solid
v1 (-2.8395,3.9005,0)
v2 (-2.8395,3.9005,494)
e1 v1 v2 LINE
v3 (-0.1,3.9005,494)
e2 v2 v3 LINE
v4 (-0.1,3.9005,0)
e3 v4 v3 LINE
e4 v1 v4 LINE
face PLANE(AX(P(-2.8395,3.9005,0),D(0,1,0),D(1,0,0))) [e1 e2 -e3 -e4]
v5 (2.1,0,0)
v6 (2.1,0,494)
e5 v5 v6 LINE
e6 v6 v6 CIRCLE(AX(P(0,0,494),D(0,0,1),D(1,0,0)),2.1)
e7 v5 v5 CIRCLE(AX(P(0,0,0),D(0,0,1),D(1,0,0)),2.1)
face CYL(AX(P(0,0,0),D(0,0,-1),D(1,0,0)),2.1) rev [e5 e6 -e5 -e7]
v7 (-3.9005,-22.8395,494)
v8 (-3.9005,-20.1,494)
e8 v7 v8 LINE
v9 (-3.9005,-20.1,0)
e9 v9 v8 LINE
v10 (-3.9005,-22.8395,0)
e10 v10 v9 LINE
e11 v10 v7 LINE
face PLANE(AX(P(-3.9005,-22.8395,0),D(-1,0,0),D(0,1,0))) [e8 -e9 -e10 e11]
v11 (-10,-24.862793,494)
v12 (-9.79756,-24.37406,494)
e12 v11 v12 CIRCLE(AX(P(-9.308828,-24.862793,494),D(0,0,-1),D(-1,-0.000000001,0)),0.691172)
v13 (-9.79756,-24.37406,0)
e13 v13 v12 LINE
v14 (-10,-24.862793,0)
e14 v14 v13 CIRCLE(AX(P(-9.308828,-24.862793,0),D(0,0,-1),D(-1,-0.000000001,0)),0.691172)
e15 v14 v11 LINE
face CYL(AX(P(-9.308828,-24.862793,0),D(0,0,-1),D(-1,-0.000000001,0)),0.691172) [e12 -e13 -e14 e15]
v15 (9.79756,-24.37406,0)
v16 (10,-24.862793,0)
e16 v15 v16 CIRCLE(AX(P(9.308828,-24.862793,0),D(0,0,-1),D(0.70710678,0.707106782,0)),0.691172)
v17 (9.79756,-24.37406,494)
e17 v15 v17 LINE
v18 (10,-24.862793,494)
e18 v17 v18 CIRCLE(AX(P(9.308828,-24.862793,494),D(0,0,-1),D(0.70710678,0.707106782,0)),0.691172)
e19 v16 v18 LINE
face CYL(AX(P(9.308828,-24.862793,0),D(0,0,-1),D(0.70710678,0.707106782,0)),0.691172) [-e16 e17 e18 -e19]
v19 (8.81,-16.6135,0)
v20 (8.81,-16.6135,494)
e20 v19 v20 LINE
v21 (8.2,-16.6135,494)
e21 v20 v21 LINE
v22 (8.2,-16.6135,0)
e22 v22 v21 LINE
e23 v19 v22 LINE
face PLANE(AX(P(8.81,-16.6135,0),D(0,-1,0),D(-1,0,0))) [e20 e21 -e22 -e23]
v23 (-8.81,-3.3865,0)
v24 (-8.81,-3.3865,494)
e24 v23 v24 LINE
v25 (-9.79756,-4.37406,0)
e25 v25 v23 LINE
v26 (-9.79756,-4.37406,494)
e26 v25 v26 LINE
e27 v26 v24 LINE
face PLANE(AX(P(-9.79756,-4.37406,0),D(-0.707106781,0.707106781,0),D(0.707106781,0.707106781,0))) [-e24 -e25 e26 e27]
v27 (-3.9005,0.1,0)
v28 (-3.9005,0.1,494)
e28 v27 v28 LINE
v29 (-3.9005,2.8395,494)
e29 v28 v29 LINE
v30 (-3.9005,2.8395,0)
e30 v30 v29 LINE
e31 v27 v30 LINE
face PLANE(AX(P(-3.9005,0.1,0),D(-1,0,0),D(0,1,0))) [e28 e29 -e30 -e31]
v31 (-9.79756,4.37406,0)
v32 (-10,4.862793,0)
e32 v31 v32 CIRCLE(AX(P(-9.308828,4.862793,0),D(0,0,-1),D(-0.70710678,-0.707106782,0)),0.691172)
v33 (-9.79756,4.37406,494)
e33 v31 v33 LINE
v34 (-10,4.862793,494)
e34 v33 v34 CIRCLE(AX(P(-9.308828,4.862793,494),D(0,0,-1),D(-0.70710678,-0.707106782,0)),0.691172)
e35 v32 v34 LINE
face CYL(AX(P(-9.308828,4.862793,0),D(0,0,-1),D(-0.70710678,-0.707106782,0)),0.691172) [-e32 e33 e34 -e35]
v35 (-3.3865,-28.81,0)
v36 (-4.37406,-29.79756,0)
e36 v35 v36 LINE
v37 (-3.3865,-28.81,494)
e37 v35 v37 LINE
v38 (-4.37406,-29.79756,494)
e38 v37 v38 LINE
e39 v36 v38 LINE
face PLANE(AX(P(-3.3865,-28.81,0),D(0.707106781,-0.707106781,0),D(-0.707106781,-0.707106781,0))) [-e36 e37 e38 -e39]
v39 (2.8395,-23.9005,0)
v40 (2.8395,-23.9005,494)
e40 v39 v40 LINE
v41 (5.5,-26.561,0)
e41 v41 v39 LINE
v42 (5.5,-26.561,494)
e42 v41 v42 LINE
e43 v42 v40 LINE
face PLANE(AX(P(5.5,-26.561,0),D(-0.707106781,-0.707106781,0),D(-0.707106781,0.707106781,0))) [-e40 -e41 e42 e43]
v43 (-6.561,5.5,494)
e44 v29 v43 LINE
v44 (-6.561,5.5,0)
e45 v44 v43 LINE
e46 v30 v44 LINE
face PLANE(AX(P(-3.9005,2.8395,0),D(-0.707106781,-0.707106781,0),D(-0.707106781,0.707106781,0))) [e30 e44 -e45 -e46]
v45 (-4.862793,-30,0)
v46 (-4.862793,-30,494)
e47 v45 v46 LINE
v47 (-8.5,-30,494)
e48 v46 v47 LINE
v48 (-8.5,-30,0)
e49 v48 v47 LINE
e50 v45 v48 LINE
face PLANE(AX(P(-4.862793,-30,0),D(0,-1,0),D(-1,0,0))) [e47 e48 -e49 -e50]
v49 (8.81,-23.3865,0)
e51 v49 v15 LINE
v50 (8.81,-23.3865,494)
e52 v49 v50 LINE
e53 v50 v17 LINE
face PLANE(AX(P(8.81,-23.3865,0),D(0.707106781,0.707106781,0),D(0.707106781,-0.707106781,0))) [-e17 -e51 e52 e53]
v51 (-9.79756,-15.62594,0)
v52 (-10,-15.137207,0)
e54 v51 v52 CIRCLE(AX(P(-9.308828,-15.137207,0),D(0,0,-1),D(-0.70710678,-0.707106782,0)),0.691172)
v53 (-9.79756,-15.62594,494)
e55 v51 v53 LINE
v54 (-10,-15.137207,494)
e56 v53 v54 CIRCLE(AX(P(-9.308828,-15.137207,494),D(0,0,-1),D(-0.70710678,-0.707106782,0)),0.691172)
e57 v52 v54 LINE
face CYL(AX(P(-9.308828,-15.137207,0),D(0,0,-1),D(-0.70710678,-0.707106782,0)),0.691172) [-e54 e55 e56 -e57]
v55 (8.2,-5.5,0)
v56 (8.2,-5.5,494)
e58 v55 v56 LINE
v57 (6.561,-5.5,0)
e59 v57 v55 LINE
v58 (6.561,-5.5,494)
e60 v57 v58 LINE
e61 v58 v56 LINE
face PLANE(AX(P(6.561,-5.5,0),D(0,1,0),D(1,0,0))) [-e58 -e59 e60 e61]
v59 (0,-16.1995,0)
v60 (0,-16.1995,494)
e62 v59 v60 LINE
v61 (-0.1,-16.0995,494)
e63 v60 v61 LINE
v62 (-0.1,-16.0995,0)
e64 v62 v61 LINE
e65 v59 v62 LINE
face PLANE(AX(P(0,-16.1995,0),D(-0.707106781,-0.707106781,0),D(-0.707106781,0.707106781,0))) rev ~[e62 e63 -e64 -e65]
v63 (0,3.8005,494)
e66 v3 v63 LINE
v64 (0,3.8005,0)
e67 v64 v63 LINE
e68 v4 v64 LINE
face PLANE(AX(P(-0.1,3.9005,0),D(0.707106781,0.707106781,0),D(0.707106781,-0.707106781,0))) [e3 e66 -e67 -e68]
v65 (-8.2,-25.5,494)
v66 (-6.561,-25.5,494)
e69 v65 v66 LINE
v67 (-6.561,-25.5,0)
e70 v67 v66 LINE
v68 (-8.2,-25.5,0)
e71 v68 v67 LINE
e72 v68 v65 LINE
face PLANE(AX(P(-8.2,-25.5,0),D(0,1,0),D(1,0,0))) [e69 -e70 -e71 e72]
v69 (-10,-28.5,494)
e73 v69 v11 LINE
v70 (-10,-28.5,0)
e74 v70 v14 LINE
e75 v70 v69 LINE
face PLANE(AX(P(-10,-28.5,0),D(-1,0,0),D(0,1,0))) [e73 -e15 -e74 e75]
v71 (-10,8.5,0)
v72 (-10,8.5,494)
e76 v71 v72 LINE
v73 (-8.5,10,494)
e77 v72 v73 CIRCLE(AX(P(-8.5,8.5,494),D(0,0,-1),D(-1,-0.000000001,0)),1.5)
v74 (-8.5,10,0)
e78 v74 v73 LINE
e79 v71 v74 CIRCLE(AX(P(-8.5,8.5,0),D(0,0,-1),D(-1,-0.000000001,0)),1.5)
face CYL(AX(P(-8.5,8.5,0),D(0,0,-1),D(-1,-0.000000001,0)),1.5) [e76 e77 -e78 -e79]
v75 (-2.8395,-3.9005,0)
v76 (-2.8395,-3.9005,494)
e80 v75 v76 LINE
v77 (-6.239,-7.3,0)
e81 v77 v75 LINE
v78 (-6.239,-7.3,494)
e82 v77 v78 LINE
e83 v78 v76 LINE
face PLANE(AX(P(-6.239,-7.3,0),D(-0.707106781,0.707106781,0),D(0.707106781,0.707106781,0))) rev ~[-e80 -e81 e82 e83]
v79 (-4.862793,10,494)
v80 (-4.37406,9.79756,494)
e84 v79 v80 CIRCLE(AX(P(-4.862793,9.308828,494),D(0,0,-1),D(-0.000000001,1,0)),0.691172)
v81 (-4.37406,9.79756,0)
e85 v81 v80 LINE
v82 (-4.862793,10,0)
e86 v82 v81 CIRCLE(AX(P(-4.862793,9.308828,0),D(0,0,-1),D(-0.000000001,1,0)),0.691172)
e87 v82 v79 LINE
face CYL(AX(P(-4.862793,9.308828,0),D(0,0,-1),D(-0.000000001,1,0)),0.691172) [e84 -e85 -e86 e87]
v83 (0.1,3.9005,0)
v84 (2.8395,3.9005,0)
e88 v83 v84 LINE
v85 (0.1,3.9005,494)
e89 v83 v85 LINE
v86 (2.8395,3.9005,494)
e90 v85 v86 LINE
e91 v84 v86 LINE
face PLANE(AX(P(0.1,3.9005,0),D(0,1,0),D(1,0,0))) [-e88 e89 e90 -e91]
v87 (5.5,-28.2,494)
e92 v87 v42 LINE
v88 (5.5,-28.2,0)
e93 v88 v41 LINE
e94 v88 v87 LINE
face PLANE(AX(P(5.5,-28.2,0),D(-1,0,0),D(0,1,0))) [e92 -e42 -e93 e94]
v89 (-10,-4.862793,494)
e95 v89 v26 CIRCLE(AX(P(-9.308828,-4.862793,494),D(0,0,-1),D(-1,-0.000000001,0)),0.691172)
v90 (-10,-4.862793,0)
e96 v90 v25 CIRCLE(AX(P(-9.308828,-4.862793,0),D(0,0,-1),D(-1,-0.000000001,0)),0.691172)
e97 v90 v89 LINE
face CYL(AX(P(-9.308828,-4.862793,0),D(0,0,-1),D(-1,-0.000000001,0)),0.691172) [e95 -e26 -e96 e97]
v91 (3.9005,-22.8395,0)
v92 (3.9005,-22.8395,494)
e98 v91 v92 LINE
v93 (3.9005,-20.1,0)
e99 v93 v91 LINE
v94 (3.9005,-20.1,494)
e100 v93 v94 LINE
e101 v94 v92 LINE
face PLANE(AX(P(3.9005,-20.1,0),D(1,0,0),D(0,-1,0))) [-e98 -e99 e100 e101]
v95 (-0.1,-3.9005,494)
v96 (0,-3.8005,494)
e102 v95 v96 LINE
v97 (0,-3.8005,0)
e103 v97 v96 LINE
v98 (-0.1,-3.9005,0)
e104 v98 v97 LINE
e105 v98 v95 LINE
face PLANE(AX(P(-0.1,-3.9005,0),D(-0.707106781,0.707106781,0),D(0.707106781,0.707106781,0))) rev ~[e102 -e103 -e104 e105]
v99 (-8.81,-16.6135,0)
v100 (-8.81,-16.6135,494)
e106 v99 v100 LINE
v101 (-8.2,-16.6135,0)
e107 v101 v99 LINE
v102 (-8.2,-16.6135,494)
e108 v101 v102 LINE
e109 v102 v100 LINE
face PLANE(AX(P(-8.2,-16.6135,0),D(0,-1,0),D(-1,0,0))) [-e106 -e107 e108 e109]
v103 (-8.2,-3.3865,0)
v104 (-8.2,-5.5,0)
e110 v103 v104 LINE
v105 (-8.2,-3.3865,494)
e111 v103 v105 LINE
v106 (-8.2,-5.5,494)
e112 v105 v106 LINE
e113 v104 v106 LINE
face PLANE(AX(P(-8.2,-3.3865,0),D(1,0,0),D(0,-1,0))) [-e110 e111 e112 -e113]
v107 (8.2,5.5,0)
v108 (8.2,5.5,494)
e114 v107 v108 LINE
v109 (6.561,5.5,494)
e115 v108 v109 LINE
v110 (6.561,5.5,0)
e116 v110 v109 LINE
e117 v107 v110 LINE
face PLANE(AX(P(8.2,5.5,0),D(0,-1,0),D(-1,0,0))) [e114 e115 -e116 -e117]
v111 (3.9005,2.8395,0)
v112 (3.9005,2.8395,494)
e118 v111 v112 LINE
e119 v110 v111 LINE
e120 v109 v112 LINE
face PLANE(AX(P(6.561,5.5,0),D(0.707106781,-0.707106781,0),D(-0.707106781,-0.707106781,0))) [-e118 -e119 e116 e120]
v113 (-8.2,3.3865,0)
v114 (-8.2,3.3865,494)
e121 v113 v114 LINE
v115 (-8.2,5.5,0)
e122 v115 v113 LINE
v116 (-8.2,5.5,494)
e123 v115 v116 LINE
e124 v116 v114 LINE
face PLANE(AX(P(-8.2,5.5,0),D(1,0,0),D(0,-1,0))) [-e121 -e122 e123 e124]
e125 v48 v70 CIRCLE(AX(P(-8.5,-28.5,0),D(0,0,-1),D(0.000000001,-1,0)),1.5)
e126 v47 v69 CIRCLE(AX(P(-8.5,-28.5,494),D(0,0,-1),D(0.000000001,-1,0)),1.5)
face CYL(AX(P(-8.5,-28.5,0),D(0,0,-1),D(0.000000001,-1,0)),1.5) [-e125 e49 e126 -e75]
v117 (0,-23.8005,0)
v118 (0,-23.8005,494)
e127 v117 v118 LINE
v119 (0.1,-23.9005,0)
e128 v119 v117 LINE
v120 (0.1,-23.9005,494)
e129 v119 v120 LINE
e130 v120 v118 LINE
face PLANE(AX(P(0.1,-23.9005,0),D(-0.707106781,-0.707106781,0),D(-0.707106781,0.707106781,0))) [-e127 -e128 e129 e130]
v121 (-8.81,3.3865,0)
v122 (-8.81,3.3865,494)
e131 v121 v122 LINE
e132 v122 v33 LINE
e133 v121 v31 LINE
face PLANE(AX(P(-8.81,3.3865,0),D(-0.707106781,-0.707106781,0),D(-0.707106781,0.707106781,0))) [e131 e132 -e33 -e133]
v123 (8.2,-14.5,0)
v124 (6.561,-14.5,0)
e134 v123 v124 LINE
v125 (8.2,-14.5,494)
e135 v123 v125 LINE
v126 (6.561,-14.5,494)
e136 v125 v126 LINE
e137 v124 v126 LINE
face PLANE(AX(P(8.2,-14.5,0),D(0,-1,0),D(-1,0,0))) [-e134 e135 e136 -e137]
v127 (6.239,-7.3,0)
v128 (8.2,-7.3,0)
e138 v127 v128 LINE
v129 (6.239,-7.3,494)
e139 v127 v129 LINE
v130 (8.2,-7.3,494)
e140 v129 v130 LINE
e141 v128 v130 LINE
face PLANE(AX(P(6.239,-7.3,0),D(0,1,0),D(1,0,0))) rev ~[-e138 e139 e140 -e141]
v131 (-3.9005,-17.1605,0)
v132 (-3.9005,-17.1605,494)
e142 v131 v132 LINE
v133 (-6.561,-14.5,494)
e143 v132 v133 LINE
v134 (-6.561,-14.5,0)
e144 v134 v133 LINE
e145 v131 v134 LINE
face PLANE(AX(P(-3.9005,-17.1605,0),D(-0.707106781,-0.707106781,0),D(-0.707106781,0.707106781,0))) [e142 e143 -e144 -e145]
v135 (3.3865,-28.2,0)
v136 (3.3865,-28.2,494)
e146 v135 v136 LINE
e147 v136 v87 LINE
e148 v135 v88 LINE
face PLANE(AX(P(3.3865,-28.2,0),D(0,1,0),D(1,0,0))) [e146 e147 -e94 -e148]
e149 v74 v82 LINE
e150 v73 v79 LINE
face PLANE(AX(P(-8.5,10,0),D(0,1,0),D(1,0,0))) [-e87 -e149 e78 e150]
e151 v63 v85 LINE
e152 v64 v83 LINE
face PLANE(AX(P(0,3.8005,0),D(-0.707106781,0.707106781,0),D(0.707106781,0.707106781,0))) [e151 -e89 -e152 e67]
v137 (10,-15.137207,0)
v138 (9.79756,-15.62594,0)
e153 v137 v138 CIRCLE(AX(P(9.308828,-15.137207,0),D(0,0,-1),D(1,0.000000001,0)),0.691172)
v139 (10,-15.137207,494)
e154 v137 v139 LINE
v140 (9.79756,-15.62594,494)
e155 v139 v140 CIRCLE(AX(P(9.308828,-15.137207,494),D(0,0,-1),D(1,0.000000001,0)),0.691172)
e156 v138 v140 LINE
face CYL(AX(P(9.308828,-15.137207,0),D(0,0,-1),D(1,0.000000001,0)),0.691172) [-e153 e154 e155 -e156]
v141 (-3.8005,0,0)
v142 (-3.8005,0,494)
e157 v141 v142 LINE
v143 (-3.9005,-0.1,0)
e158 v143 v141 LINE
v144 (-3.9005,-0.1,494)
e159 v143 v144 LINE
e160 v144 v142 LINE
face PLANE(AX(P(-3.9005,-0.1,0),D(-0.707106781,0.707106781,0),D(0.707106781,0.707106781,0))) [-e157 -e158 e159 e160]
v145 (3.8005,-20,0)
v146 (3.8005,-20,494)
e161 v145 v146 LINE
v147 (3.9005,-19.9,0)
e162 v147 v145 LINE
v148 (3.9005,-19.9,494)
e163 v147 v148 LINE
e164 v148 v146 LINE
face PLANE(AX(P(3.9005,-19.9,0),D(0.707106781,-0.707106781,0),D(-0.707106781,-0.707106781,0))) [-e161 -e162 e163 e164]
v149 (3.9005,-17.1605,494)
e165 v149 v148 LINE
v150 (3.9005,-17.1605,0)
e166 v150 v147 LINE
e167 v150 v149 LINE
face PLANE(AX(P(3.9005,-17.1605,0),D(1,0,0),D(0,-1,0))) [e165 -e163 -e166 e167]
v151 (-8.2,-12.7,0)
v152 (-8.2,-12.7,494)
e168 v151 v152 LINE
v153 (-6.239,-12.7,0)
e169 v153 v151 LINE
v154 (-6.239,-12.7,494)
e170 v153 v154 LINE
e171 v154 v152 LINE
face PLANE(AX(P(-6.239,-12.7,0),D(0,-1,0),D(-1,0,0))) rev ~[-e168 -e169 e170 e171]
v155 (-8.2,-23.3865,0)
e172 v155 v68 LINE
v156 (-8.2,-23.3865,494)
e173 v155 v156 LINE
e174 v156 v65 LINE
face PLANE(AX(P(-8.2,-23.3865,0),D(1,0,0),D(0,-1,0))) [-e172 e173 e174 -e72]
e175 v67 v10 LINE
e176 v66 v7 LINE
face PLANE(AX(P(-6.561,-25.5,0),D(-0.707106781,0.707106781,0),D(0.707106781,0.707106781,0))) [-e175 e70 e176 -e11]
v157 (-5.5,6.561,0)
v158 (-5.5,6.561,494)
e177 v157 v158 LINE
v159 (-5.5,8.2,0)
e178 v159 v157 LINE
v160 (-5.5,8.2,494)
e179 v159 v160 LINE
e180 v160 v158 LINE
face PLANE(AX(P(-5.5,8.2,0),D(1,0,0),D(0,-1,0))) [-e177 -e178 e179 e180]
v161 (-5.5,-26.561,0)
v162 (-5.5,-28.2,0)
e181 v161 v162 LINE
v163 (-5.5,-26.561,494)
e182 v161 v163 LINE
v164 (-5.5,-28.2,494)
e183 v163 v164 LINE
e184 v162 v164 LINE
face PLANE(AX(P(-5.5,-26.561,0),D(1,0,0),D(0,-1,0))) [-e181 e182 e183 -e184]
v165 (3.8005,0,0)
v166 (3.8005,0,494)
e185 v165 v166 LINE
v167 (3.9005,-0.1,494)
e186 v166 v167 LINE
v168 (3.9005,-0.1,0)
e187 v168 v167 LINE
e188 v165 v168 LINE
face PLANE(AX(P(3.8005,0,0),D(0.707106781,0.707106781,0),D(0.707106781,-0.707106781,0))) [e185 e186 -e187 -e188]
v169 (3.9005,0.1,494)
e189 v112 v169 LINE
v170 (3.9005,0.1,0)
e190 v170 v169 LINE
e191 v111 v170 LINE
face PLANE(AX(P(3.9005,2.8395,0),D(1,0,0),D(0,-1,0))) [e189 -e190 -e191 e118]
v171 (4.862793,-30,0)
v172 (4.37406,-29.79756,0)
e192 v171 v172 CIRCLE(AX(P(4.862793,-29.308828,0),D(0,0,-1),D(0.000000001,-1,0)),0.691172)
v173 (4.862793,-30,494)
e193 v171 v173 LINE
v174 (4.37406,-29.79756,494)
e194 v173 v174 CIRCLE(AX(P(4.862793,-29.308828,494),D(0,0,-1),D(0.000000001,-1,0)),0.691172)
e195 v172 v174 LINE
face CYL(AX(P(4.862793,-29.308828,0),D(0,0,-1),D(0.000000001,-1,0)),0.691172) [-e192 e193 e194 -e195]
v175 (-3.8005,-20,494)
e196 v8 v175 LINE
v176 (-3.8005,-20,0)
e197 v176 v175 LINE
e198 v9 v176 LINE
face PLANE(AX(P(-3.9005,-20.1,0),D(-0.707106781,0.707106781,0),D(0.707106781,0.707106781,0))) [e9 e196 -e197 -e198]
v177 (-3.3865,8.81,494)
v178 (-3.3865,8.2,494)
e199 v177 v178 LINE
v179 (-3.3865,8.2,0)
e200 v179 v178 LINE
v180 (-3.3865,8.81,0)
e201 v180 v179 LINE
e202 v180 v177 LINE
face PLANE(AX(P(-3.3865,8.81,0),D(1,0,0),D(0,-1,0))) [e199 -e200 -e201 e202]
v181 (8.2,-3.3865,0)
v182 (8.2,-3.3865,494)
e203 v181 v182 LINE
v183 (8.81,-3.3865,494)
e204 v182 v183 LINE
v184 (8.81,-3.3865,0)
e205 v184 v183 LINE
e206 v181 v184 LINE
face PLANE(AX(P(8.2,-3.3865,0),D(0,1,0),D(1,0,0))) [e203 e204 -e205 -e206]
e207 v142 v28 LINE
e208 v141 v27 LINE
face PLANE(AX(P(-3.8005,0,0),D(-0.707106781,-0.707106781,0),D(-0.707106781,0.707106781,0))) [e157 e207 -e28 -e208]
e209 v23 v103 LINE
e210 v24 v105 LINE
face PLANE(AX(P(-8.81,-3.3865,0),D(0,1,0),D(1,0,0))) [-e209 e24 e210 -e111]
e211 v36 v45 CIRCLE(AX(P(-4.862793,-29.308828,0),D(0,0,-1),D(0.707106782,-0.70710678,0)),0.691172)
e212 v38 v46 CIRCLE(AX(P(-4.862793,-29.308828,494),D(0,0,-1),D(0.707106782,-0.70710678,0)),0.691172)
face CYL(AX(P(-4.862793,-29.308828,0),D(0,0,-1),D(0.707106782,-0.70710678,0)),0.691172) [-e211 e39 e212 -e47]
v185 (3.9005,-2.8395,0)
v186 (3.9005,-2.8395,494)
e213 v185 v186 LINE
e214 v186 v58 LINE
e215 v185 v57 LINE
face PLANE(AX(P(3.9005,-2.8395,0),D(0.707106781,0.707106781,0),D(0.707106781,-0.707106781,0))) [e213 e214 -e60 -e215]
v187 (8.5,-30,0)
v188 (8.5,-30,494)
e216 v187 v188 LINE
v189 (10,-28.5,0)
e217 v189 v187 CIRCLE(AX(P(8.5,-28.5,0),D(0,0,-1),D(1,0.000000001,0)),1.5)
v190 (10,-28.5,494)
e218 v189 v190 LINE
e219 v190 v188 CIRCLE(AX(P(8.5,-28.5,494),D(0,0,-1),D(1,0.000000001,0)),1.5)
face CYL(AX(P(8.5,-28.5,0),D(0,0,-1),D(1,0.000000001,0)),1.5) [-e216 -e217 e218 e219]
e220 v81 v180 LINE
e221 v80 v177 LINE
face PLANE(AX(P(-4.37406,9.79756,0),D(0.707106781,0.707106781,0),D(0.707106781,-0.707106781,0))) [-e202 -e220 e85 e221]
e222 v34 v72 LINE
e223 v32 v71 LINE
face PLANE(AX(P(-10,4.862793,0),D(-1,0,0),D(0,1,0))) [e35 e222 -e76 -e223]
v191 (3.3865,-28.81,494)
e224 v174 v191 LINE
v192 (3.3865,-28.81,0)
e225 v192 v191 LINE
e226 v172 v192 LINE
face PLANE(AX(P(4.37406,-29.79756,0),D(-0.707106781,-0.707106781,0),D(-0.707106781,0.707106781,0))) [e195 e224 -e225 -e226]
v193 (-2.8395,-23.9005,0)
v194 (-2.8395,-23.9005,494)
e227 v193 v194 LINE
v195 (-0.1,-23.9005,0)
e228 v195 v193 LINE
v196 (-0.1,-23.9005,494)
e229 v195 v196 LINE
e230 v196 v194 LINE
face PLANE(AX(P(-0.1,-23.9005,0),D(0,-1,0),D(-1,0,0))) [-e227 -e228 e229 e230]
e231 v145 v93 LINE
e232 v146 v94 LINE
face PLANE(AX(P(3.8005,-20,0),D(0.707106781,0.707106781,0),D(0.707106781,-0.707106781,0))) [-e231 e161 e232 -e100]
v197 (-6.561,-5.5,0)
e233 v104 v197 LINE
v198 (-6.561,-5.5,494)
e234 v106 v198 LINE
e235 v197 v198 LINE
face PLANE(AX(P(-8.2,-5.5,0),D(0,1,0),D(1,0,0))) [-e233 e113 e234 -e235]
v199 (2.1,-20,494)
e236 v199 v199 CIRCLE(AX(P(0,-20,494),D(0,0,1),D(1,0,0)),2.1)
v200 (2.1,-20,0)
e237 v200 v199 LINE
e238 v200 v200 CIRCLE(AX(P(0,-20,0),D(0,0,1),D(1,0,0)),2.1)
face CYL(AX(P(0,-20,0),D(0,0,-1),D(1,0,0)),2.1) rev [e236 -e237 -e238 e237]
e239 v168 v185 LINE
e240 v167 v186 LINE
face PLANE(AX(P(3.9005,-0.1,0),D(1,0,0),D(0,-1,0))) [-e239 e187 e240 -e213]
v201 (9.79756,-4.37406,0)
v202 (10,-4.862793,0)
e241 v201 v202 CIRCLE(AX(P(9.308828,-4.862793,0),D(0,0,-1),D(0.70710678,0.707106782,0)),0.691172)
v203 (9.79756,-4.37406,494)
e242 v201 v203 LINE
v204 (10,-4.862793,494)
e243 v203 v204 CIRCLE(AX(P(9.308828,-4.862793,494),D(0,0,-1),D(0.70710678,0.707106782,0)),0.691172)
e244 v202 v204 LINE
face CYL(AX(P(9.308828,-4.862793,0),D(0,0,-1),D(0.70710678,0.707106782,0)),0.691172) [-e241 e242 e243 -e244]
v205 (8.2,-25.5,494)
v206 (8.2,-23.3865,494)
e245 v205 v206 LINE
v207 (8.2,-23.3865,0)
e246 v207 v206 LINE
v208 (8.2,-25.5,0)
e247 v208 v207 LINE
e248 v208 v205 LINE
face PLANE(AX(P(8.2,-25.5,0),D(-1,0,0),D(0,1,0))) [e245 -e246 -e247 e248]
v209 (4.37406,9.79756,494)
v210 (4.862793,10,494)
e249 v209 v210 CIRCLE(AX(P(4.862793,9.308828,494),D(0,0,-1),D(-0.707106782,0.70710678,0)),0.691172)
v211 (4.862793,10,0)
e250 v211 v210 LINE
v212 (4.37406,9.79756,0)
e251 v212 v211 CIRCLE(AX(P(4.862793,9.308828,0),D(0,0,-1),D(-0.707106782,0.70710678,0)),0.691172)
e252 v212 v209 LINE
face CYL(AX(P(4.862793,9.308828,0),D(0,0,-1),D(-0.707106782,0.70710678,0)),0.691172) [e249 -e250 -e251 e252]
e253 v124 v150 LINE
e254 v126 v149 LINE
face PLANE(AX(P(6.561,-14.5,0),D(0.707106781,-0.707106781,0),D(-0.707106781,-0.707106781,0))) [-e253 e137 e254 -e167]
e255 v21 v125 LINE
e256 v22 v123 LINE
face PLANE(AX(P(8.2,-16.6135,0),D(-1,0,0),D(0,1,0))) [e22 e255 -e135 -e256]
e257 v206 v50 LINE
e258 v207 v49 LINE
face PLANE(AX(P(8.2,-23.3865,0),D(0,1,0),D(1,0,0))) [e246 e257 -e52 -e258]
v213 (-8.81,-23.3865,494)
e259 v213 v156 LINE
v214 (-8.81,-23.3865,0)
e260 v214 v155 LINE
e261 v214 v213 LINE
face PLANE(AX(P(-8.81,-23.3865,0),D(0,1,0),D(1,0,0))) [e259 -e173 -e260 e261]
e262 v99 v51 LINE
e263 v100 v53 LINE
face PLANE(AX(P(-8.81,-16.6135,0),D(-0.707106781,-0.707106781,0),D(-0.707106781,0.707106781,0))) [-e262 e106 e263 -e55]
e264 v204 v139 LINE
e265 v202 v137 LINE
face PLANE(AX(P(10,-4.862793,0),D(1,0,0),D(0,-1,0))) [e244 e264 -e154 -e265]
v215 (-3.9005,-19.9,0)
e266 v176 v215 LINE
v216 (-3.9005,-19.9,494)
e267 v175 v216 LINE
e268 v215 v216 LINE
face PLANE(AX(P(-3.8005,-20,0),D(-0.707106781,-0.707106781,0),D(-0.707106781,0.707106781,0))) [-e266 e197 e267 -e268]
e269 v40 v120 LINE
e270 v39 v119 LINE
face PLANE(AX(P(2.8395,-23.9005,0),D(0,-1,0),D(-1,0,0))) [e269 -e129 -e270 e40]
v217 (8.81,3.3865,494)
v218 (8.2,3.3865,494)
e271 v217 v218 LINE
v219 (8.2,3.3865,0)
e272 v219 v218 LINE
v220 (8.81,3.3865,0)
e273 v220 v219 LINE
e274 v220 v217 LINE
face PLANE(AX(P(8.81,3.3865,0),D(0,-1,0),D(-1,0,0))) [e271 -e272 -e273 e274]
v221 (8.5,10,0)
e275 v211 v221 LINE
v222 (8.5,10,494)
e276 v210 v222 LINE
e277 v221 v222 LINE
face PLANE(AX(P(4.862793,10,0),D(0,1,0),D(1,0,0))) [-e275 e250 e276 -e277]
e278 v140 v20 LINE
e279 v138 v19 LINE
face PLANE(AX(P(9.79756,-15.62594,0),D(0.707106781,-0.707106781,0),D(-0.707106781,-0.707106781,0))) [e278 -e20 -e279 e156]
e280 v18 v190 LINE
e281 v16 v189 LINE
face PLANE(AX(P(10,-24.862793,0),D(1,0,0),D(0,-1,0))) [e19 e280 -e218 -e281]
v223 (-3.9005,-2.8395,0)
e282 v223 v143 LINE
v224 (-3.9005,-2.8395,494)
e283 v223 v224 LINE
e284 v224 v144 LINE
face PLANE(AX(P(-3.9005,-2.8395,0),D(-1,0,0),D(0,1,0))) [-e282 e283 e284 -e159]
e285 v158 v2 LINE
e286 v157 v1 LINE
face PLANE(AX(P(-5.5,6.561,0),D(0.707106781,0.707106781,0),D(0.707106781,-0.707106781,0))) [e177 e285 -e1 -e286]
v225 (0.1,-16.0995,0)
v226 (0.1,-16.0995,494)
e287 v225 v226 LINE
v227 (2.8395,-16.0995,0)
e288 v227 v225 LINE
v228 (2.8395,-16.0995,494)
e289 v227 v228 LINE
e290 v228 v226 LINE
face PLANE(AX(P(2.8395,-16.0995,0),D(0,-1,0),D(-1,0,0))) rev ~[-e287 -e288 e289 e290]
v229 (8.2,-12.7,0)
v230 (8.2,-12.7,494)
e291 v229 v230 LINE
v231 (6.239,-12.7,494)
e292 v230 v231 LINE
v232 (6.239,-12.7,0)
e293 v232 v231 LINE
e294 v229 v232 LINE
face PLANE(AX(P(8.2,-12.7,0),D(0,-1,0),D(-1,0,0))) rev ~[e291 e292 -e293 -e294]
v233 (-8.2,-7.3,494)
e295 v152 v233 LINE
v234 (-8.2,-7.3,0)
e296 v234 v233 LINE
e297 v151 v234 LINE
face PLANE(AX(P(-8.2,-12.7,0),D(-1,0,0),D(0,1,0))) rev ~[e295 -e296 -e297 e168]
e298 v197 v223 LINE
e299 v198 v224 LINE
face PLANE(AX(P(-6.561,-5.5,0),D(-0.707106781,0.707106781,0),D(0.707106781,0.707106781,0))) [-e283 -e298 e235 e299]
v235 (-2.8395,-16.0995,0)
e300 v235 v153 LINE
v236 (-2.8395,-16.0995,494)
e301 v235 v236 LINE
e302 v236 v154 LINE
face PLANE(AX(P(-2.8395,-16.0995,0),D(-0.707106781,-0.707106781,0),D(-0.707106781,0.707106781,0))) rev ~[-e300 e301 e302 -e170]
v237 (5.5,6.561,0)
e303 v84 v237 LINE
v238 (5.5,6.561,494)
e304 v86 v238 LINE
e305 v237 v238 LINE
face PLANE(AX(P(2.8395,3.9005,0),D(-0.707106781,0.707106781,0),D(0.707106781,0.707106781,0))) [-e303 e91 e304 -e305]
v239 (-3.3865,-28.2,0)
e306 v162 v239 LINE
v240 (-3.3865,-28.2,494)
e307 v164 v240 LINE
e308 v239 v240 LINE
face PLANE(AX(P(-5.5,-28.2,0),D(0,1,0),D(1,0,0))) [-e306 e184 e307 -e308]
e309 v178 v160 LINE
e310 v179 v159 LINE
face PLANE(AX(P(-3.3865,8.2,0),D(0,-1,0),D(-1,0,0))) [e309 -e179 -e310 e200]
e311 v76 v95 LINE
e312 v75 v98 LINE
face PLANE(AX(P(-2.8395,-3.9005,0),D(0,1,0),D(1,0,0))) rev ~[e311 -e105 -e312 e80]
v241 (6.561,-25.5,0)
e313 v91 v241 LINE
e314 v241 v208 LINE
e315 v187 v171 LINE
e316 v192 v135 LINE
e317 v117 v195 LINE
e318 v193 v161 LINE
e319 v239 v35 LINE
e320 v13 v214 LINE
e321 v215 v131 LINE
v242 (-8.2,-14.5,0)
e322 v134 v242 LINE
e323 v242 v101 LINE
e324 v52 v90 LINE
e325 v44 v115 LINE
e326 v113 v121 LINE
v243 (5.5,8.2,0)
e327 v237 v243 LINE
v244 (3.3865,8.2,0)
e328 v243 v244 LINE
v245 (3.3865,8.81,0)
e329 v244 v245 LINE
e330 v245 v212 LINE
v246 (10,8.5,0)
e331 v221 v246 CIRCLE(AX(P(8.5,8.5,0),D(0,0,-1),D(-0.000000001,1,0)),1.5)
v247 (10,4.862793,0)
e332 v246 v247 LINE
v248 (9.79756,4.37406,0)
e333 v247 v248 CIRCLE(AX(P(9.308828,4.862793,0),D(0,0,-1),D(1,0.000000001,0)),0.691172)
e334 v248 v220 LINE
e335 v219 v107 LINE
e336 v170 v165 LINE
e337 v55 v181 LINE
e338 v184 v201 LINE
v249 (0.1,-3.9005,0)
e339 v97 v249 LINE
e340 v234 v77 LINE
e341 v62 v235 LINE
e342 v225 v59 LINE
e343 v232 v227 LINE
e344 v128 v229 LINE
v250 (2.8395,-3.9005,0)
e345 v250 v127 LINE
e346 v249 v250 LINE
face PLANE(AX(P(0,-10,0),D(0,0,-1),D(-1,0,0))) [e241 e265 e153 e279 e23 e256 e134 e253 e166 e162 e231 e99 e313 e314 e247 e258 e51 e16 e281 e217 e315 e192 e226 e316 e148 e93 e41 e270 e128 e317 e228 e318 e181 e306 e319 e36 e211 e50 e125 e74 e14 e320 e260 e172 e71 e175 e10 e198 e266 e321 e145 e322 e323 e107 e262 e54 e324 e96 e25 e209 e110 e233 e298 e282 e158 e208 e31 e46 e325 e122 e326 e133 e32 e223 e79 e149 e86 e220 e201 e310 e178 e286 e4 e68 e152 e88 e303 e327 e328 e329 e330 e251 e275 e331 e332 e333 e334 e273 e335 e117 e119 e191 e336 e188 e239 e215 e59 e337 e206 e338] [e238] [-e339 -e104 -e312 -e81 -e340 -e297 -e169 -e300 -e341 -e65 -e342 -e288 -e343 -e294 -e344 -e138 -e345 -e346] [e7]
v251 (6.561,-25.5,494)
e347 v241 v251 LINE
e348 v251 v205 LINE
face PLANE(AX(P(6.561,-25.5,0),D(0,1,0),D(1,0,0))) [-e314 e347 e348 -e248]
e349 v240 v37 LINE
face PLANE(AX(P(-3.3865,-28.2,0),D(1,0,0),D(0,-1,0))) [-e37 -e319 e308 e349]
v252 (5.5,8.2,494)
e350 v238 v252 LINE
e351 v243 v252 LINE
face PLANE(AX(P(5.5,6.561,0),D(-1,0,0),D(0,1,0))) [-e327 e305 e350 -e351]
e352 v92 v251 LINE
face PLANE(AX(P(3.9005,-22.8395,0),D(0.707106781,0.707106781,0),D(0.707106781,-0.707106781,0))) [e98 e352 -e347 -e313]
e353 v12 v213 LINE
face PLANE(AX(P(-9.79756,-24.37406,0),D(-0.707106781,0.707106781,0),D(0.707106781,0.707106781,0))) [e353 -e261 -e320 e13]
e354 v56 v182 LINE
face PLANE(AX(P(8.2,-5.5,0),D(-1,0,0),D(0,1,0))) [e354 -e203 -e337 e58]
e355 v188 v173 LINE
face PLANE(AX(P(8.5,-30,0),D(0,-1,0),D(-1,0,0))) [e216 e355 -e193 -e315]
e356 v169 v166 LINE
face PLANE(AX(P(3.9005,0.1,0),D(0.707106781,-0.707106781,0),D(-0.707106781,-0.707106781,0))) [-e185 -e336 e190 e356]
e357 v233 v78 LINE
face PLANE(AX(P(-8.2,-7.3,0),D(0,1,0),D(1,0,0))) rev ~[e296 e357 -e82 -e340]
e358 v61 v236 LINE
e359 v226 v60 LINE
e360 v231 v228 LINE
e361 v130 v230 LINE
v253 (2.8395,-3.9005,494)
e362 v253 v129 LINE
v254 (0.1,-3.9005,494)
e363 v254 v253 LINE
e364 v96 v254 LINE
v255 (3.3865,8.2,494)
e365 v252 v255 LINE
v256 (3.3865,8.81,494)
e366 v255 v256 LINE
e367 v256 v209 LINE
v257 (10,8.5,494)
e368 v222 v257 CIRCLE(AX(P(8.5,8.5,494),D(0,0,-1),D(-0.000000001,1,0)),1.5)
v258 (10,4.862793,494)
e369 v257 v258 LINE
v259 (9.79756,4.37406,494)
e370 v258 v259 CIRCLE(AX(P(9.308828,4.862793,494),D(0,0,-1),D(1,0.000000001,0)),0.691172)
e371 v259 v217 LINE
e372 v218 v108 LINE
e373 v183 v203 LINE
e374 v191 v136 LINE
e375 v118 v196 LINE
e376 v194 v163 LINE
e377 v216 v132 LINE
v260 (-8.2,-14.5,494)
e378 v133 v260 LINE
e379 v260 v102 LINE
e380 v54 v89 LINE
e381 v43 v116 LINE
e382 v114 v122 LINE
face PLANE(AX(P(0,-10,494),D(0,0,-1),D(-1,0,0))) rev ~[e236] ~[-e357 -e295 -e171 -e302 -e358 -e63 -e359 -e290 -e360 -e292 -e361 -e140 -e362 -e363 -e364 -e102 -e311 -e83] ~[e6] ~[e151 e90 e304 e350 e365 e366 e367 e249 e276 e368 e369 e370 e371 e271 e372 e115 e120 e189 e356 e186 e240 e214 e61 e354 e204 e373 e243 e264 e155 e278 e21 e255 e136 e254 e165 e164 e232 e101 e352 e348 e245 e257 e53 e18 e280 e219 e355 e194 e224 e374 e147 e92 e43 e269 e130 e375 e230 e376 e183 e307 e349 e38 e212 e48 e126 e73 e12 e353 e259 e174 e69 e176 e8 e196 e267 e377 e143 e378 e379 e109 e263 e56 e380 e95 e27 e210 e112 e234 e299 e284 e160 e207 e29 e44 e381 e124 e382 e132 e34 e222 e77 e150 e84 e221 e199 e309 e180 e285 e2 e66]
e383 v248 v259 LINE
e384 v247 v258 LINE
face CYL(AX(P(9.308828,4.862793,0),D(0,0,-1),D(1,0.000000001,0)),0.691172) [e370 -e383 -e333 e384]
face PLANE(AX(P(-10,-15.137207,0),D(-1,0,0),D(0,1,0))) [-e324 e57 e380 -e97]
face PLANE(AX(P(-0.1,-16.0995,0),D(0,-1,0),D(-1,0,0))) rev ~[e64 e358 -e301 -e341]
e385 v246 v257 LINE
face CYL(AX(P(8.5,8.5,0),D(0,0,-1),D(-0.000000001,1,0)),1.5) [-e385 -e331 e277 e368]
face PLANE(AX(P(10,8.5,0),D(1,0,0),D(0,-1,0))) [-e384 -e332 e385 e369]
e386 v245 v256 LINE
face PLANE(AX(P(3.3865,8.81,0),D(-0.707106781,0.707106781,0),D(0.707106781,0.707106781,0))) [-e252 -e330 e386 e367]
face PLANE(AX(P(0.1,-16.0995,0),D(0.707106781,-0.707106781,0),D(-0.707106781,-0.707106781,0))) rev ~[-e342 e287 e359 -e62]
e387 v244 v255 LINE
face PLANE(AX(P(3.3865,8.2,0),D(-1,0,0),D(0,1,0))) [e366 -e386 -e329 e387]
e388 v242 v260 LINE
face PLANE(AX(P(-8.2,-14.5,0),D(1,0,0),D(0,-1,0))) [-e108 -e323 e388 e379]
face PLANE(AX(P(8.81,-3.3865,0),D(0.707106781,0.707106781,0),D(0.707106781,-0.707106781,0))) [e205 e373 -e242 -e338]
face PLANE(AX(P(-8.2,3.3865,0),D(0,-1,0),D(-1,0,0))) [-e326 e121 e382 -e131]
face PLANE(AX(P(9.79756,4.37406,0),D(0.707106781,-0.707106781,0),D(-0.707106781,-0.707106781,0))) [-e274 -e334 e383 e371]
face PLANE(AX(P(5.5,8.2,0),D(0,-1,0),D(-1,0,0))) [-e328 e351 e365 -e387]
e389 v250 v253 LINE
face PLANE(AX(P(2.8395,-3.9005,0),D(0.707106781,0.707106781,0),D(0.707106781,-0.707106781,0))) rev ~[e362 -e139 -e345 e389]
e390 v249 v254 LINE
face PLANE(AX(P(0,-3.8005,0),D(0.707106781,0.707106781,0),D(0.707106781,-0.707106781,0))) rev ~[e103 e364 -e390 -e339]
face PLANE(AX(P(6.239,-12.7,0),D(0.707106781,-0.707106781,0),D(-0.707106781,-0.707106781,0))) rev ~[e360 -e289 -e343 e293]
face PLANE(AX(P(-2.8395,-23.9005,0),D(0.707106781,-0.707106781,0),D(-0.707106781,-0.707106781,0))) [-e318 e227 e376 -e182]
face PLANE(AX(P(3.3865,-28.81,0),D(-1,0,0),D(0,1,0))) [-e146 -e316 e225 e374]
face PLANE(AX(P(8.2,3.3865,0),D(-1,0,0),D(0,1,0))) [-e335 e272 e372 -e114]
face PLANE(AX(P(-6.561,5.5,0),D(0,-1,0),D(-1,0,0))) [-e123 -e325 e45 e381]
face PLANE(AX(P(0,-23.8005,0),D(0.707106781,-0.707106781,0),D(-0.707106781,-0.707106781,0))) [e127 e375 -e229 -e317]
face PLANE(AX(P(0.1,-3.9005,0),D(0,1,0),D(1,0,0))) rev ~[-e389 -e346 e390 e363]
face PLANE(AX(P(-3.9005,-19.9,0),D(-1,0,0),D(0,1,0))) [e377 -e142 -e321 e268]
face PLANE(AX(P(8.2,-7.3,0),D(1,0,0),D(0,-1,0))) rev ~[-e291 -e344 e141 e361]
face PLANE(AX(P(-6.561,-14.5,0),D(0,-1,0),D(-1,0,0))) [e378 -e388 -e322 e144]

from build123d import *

# Parameters (mm, degrees)
SKETCH1_R           = 2.1
BOSS_EXTRUDE2_DEPTH = 494


with BuildPart() as part:
    # Sketch1 → Boss-Extrude2 (new body)
    with BuildSketch(Plane.XY):
        with BuildLine():
            Line((-8.5, 10), (-4.862792737, 10))
            ThreePointArc((-4.862792737, 10), (-4.598292737, 9.947387679), (-4.374060464, 9.797560464))
            Line((-4.374060464, 9.797560464), (-3.3865, 8.81))
            Line((-3.3865, 8.81), (-3.3865, 8.2))
            Line((-3.3865, 8.2), (-5.5, 8.2))
            Line((-5.5, 8.2), (-5.5, 6.561))
            Line((-5.5, 6.561), (-2.8395, 3.9005))
            Line((-2.8395, 3.9005), (-0.1, 3.9005))
            Line((-0.1, 3.9005), (0, 3.8005))
            Line((0, 3.8005), (0.1, 3.9005))
            Line((0.1, 3.9005), (2.8395, 3.9005))
            Line((2.8395, 3.9005), (5.5, 6.561))
            Line((5.5, 6.561), (5.5, 8.2))
            Line((5.5, 8.2), (3.3865, 8.2))
            Line((3.3865, 8.2), (3.3865, 8.81))
            Line((3.3865, 8.81), (4.374060464, 9.797560464))
            ThreePointArc((4.374060464, 9.797560464), (4.598292737, 9.947387679), (4.862792737, 10))
            Line((4.862792737, 10), (8.5, 10))
            ThreePointArc((8.5, 10), (9.560660172, 9.560660172), (10, 8.5))
            Line((10, 8.5), (10, 4.862792737))
            ThreePointArc((10, 4.862792737), (9.947387679, 4.598292737), (9.797560464, 4.374060464))
            Line((9.797560464, 4.374060464), (8.81, 3.3865))
            Line((8.81, 3.3865), (8.2, 3.3865))
            Line((8.2, 3.3865), (8.2, 5.5))
            Line((8.2, 5.5), (6.561, 5.5))
            Line((6.561, 5.5), (3.9005, 2.8395))
            Line((3.9005, 2.8395), (3.9005, 0.1))
            Line((3.9005, 0.1), (3.8005, 0))
            Line((3.8005, 0), (3.9005, -0.1))
            Line((3.9005, -0.1), (3.9005, -2.8395))
            Line((3.9005, -2.8395), (6.561, -5.5))
            Line((6.561, -5.5), (8.2, -5.5))
            Line((8.2, -5.5), (8.2, -3.3865))
            Line((8.2, -3.3865), (8.81, -3.3865))
            Line((8.81, -3.3865), (9.797560464, -4.374060464))
            ThreePointArc((9.797560464, -4.374060464), (9.947387679, -4.598292737), (10, -4.862792737))
            Line((10, -4.862792737), (10, -15.137207263))
            ThreePointArc((10, -15.137207263), (9.947387679, -15.401707263), (9.797560464, -15.625939536))
            Line((9.797560464, -15.625939536), (8.81, -16.6135))
            Line((8.81, -16.6135), (8.2, -16.6135))
            Line((8.2, -16.6135), (8.2, -14.5))
            Line((8.2, -14.5), (6.561, -14.5))
            Line((6.561, -14.5), (3.9005, -17.1605))
            Line((3.9005, -17.1605), (3.9005, -19.9))
            Line((3.9005, -19.9), (3.8005, -20))
            Line((3.8005, -20), (3.9005, -20.1))
            Line((3.9005, -20.1), (3.9005, -22.8395))
            Line((3.9005, -22.8395), (6.561, -25.5))
            Line((6.561, -25.5), (8.2, -25.5))
            Line((8.2, -25.5), (8.2, -23.3865))
            Line((8.2, -23.3865), (8.81, -23.3865))
            Line((8.81, -23.3865), (9.797560464, -24.374060464))
            ThreePointArc((9.797560464, -24.374060464), (9.947387679, -24.598292737), (10, -24.862792737))
            Line((10, -24.862792737), (10, -28.5))
            ThreePointArc((10, -28.5), (9.560660172, -29.560660172), (8.5, -30))
            Line((8.5, -30), (4.862792737, -30))
            ThreePointArc((4.862792737, -30), (4.598292737, -29.947387679), (4.374060464, -29.797560464))
            Line((4.374060464, -29.797560464), (3.3865, -28.81))
            Line((3.3865, -28.81), (3.3865, -28.2))
            Line((3.3865, -28.2), (5.5, -28.2))
            Line((5.5, -28.2), (5.5, -26.561))
            Line((5.5, -26.561), (2.8395, -23.9005))
            Line((2.8395, -23.9005), (0.1, -23.9005))
            Line((0.1, -23.9005), (0, -23.8005))
            Line((0, -23.8005), (-0.1, -23.9005))
            Line((-0.1, -23.9005), (-2.8395, -23.9005))
            Line((-2.8395, -23.9005), (-5.5, -26.561))
            Line((-5.5, -26.561), (-5.5, -28.2))
            Line((-5.5, -28.2), (-3.3865, -28.2))
            Line((-3.3865, -28.2), (-3.3865, -28.81))
            Line((-3.3865, -28.81), (-4.374060464, -29.797560464))
            ThreePointArc((-4.374060464, -29.797560464), (-4.598292737, -29.947387679), (-4.862792737, -30))
            Line((-4.862792737, -30), (-8.5, -30))
            ThreePointArc((-8.5, -30), (-9.560660172, -29.560660172), (-10, -28.5))
            Line((-10, -28.5), (-10, -24.862792737))
            ThreePointArc((-10, -24.862792737), (-9.947387679, -24.598292737), (-9.797560464, -24.374060464))
            Line((-9.797560464, -24.374060464), (-8.81, -23.3865))
            Line((-8.81, -23.3865), (-8.2, -23.3865))
            Line((-8.2, -23.3865), (-8.2, -25.5))
            Line((-8.2, -25.5), (-6.561, -25.5))
            Line((-6.561, -25.5), (-3.9005, -22.8395))
            Line((-3.9005, -22.8395), (-3.9005, -20.1))
            Line((-3.9005, -20.1), (-3.8005, -20))
            Line((-3.8005, -20), (-3.9005, -19.9))
            Line((-3.9005, -19.9), (-3.9005, -17.1605))
            Line((-3.9005, -17.1605), (-6.561, -14.5))
            Line((-6.561, -14.5), (-8.2, -14.5))
            Line((-8.2, -14.5), (-8.2, -16.6135))
            Line((-8.2, -16.6135), (-8.81, -16.6135))
            Line((-8.81, -16.6135), (-9.797560464, -15.625939536))
            ThreePointArc((-9.797560464, -15.625939536), (-9.947387679, -15.401707263), (-10, -15.137207263))
            Line((-10, -15.137207263), (-10, -4.862792737))
            ThreePointArc((-10, -4.862792737), (-9.947387679, -4.598292737), (-9.797560464, -4.374060464))
            Line((-9.797560464, -4.374060464), (-8.81, -3.3865))
            Line((-8.81, -3.3865), (-8.2, -3.3865))
            Line((-8.2, -3.3865), (-8.2, -5.5))
            Line((-8.2, -5.5), (-6.561, -5.5))
            Line((-6.561, -5.5), (-3.9005, -2.8395))
            Line((-3.9005, -2.8395), (-3.9005, -0.1))
            Line((-3.9005, -0.1), (-3.8005, 0))
            Line((-3.8005, 0), (-3.9005, 0.1))
            Line((-3.9005, 0.1), (-3.9005, 2.8395))
            Line((-3.9005, 2.8395), (-6.561, 5.5))
            Line((-6.561, 5.5), (-8.2, 5.5))
            Line((-8.2, 5.5), (-8.2, 3.3865))
            Line((-8.2, 3.3865), (-8.81, 3.3865))
            Line((-8.81, 3.3865), (-9.797560464, 4.374060464))
            ThreePointArc((-9.797560464, 4.374060464), (-9.947387679, 4.598292737), (-10, 4.862792737))
            Line((-10, 4.862792737), (-10, 8.5))
            ThreePointArc((-10, 8.5), (-9.560660172, 9.560660172), (-8.5, 10))
        make_face()
        Circle(SKETCH1_R, mode=Mode.SUBTRACT)
        with Locations((0, -20)):
            Circle(SKETCH1_R, mode=Mode.SUBTRACT)
        Polygon((-8.2, -12.7), (-8.2, -7.3), (-6.239, -7.3), (-5.5, -6.561), (-2.8395, -3.9005), (-0.1, -3.9005), (0, -3.8005), (0.1, -3.9005), (2.8395, -3.9005), (5.5, -6.561), (6.239, -7.3), (8.2, -7.3), (8.2, -12.7), (6.239, -12.7), (5.5, -13.439), (2.8395, -16.0995), (0.1, -16.0995), (0, -16.1995), (-0.1, -16.0995), (-2.8395, -16.0995), (-5.5, -13.439), (-6.239, -12.7), align=None, mode=Mode.SUBTRACT)
    extrude(amount=BOSS_EXTRUDE2_DEPTH)


solid = part.part
